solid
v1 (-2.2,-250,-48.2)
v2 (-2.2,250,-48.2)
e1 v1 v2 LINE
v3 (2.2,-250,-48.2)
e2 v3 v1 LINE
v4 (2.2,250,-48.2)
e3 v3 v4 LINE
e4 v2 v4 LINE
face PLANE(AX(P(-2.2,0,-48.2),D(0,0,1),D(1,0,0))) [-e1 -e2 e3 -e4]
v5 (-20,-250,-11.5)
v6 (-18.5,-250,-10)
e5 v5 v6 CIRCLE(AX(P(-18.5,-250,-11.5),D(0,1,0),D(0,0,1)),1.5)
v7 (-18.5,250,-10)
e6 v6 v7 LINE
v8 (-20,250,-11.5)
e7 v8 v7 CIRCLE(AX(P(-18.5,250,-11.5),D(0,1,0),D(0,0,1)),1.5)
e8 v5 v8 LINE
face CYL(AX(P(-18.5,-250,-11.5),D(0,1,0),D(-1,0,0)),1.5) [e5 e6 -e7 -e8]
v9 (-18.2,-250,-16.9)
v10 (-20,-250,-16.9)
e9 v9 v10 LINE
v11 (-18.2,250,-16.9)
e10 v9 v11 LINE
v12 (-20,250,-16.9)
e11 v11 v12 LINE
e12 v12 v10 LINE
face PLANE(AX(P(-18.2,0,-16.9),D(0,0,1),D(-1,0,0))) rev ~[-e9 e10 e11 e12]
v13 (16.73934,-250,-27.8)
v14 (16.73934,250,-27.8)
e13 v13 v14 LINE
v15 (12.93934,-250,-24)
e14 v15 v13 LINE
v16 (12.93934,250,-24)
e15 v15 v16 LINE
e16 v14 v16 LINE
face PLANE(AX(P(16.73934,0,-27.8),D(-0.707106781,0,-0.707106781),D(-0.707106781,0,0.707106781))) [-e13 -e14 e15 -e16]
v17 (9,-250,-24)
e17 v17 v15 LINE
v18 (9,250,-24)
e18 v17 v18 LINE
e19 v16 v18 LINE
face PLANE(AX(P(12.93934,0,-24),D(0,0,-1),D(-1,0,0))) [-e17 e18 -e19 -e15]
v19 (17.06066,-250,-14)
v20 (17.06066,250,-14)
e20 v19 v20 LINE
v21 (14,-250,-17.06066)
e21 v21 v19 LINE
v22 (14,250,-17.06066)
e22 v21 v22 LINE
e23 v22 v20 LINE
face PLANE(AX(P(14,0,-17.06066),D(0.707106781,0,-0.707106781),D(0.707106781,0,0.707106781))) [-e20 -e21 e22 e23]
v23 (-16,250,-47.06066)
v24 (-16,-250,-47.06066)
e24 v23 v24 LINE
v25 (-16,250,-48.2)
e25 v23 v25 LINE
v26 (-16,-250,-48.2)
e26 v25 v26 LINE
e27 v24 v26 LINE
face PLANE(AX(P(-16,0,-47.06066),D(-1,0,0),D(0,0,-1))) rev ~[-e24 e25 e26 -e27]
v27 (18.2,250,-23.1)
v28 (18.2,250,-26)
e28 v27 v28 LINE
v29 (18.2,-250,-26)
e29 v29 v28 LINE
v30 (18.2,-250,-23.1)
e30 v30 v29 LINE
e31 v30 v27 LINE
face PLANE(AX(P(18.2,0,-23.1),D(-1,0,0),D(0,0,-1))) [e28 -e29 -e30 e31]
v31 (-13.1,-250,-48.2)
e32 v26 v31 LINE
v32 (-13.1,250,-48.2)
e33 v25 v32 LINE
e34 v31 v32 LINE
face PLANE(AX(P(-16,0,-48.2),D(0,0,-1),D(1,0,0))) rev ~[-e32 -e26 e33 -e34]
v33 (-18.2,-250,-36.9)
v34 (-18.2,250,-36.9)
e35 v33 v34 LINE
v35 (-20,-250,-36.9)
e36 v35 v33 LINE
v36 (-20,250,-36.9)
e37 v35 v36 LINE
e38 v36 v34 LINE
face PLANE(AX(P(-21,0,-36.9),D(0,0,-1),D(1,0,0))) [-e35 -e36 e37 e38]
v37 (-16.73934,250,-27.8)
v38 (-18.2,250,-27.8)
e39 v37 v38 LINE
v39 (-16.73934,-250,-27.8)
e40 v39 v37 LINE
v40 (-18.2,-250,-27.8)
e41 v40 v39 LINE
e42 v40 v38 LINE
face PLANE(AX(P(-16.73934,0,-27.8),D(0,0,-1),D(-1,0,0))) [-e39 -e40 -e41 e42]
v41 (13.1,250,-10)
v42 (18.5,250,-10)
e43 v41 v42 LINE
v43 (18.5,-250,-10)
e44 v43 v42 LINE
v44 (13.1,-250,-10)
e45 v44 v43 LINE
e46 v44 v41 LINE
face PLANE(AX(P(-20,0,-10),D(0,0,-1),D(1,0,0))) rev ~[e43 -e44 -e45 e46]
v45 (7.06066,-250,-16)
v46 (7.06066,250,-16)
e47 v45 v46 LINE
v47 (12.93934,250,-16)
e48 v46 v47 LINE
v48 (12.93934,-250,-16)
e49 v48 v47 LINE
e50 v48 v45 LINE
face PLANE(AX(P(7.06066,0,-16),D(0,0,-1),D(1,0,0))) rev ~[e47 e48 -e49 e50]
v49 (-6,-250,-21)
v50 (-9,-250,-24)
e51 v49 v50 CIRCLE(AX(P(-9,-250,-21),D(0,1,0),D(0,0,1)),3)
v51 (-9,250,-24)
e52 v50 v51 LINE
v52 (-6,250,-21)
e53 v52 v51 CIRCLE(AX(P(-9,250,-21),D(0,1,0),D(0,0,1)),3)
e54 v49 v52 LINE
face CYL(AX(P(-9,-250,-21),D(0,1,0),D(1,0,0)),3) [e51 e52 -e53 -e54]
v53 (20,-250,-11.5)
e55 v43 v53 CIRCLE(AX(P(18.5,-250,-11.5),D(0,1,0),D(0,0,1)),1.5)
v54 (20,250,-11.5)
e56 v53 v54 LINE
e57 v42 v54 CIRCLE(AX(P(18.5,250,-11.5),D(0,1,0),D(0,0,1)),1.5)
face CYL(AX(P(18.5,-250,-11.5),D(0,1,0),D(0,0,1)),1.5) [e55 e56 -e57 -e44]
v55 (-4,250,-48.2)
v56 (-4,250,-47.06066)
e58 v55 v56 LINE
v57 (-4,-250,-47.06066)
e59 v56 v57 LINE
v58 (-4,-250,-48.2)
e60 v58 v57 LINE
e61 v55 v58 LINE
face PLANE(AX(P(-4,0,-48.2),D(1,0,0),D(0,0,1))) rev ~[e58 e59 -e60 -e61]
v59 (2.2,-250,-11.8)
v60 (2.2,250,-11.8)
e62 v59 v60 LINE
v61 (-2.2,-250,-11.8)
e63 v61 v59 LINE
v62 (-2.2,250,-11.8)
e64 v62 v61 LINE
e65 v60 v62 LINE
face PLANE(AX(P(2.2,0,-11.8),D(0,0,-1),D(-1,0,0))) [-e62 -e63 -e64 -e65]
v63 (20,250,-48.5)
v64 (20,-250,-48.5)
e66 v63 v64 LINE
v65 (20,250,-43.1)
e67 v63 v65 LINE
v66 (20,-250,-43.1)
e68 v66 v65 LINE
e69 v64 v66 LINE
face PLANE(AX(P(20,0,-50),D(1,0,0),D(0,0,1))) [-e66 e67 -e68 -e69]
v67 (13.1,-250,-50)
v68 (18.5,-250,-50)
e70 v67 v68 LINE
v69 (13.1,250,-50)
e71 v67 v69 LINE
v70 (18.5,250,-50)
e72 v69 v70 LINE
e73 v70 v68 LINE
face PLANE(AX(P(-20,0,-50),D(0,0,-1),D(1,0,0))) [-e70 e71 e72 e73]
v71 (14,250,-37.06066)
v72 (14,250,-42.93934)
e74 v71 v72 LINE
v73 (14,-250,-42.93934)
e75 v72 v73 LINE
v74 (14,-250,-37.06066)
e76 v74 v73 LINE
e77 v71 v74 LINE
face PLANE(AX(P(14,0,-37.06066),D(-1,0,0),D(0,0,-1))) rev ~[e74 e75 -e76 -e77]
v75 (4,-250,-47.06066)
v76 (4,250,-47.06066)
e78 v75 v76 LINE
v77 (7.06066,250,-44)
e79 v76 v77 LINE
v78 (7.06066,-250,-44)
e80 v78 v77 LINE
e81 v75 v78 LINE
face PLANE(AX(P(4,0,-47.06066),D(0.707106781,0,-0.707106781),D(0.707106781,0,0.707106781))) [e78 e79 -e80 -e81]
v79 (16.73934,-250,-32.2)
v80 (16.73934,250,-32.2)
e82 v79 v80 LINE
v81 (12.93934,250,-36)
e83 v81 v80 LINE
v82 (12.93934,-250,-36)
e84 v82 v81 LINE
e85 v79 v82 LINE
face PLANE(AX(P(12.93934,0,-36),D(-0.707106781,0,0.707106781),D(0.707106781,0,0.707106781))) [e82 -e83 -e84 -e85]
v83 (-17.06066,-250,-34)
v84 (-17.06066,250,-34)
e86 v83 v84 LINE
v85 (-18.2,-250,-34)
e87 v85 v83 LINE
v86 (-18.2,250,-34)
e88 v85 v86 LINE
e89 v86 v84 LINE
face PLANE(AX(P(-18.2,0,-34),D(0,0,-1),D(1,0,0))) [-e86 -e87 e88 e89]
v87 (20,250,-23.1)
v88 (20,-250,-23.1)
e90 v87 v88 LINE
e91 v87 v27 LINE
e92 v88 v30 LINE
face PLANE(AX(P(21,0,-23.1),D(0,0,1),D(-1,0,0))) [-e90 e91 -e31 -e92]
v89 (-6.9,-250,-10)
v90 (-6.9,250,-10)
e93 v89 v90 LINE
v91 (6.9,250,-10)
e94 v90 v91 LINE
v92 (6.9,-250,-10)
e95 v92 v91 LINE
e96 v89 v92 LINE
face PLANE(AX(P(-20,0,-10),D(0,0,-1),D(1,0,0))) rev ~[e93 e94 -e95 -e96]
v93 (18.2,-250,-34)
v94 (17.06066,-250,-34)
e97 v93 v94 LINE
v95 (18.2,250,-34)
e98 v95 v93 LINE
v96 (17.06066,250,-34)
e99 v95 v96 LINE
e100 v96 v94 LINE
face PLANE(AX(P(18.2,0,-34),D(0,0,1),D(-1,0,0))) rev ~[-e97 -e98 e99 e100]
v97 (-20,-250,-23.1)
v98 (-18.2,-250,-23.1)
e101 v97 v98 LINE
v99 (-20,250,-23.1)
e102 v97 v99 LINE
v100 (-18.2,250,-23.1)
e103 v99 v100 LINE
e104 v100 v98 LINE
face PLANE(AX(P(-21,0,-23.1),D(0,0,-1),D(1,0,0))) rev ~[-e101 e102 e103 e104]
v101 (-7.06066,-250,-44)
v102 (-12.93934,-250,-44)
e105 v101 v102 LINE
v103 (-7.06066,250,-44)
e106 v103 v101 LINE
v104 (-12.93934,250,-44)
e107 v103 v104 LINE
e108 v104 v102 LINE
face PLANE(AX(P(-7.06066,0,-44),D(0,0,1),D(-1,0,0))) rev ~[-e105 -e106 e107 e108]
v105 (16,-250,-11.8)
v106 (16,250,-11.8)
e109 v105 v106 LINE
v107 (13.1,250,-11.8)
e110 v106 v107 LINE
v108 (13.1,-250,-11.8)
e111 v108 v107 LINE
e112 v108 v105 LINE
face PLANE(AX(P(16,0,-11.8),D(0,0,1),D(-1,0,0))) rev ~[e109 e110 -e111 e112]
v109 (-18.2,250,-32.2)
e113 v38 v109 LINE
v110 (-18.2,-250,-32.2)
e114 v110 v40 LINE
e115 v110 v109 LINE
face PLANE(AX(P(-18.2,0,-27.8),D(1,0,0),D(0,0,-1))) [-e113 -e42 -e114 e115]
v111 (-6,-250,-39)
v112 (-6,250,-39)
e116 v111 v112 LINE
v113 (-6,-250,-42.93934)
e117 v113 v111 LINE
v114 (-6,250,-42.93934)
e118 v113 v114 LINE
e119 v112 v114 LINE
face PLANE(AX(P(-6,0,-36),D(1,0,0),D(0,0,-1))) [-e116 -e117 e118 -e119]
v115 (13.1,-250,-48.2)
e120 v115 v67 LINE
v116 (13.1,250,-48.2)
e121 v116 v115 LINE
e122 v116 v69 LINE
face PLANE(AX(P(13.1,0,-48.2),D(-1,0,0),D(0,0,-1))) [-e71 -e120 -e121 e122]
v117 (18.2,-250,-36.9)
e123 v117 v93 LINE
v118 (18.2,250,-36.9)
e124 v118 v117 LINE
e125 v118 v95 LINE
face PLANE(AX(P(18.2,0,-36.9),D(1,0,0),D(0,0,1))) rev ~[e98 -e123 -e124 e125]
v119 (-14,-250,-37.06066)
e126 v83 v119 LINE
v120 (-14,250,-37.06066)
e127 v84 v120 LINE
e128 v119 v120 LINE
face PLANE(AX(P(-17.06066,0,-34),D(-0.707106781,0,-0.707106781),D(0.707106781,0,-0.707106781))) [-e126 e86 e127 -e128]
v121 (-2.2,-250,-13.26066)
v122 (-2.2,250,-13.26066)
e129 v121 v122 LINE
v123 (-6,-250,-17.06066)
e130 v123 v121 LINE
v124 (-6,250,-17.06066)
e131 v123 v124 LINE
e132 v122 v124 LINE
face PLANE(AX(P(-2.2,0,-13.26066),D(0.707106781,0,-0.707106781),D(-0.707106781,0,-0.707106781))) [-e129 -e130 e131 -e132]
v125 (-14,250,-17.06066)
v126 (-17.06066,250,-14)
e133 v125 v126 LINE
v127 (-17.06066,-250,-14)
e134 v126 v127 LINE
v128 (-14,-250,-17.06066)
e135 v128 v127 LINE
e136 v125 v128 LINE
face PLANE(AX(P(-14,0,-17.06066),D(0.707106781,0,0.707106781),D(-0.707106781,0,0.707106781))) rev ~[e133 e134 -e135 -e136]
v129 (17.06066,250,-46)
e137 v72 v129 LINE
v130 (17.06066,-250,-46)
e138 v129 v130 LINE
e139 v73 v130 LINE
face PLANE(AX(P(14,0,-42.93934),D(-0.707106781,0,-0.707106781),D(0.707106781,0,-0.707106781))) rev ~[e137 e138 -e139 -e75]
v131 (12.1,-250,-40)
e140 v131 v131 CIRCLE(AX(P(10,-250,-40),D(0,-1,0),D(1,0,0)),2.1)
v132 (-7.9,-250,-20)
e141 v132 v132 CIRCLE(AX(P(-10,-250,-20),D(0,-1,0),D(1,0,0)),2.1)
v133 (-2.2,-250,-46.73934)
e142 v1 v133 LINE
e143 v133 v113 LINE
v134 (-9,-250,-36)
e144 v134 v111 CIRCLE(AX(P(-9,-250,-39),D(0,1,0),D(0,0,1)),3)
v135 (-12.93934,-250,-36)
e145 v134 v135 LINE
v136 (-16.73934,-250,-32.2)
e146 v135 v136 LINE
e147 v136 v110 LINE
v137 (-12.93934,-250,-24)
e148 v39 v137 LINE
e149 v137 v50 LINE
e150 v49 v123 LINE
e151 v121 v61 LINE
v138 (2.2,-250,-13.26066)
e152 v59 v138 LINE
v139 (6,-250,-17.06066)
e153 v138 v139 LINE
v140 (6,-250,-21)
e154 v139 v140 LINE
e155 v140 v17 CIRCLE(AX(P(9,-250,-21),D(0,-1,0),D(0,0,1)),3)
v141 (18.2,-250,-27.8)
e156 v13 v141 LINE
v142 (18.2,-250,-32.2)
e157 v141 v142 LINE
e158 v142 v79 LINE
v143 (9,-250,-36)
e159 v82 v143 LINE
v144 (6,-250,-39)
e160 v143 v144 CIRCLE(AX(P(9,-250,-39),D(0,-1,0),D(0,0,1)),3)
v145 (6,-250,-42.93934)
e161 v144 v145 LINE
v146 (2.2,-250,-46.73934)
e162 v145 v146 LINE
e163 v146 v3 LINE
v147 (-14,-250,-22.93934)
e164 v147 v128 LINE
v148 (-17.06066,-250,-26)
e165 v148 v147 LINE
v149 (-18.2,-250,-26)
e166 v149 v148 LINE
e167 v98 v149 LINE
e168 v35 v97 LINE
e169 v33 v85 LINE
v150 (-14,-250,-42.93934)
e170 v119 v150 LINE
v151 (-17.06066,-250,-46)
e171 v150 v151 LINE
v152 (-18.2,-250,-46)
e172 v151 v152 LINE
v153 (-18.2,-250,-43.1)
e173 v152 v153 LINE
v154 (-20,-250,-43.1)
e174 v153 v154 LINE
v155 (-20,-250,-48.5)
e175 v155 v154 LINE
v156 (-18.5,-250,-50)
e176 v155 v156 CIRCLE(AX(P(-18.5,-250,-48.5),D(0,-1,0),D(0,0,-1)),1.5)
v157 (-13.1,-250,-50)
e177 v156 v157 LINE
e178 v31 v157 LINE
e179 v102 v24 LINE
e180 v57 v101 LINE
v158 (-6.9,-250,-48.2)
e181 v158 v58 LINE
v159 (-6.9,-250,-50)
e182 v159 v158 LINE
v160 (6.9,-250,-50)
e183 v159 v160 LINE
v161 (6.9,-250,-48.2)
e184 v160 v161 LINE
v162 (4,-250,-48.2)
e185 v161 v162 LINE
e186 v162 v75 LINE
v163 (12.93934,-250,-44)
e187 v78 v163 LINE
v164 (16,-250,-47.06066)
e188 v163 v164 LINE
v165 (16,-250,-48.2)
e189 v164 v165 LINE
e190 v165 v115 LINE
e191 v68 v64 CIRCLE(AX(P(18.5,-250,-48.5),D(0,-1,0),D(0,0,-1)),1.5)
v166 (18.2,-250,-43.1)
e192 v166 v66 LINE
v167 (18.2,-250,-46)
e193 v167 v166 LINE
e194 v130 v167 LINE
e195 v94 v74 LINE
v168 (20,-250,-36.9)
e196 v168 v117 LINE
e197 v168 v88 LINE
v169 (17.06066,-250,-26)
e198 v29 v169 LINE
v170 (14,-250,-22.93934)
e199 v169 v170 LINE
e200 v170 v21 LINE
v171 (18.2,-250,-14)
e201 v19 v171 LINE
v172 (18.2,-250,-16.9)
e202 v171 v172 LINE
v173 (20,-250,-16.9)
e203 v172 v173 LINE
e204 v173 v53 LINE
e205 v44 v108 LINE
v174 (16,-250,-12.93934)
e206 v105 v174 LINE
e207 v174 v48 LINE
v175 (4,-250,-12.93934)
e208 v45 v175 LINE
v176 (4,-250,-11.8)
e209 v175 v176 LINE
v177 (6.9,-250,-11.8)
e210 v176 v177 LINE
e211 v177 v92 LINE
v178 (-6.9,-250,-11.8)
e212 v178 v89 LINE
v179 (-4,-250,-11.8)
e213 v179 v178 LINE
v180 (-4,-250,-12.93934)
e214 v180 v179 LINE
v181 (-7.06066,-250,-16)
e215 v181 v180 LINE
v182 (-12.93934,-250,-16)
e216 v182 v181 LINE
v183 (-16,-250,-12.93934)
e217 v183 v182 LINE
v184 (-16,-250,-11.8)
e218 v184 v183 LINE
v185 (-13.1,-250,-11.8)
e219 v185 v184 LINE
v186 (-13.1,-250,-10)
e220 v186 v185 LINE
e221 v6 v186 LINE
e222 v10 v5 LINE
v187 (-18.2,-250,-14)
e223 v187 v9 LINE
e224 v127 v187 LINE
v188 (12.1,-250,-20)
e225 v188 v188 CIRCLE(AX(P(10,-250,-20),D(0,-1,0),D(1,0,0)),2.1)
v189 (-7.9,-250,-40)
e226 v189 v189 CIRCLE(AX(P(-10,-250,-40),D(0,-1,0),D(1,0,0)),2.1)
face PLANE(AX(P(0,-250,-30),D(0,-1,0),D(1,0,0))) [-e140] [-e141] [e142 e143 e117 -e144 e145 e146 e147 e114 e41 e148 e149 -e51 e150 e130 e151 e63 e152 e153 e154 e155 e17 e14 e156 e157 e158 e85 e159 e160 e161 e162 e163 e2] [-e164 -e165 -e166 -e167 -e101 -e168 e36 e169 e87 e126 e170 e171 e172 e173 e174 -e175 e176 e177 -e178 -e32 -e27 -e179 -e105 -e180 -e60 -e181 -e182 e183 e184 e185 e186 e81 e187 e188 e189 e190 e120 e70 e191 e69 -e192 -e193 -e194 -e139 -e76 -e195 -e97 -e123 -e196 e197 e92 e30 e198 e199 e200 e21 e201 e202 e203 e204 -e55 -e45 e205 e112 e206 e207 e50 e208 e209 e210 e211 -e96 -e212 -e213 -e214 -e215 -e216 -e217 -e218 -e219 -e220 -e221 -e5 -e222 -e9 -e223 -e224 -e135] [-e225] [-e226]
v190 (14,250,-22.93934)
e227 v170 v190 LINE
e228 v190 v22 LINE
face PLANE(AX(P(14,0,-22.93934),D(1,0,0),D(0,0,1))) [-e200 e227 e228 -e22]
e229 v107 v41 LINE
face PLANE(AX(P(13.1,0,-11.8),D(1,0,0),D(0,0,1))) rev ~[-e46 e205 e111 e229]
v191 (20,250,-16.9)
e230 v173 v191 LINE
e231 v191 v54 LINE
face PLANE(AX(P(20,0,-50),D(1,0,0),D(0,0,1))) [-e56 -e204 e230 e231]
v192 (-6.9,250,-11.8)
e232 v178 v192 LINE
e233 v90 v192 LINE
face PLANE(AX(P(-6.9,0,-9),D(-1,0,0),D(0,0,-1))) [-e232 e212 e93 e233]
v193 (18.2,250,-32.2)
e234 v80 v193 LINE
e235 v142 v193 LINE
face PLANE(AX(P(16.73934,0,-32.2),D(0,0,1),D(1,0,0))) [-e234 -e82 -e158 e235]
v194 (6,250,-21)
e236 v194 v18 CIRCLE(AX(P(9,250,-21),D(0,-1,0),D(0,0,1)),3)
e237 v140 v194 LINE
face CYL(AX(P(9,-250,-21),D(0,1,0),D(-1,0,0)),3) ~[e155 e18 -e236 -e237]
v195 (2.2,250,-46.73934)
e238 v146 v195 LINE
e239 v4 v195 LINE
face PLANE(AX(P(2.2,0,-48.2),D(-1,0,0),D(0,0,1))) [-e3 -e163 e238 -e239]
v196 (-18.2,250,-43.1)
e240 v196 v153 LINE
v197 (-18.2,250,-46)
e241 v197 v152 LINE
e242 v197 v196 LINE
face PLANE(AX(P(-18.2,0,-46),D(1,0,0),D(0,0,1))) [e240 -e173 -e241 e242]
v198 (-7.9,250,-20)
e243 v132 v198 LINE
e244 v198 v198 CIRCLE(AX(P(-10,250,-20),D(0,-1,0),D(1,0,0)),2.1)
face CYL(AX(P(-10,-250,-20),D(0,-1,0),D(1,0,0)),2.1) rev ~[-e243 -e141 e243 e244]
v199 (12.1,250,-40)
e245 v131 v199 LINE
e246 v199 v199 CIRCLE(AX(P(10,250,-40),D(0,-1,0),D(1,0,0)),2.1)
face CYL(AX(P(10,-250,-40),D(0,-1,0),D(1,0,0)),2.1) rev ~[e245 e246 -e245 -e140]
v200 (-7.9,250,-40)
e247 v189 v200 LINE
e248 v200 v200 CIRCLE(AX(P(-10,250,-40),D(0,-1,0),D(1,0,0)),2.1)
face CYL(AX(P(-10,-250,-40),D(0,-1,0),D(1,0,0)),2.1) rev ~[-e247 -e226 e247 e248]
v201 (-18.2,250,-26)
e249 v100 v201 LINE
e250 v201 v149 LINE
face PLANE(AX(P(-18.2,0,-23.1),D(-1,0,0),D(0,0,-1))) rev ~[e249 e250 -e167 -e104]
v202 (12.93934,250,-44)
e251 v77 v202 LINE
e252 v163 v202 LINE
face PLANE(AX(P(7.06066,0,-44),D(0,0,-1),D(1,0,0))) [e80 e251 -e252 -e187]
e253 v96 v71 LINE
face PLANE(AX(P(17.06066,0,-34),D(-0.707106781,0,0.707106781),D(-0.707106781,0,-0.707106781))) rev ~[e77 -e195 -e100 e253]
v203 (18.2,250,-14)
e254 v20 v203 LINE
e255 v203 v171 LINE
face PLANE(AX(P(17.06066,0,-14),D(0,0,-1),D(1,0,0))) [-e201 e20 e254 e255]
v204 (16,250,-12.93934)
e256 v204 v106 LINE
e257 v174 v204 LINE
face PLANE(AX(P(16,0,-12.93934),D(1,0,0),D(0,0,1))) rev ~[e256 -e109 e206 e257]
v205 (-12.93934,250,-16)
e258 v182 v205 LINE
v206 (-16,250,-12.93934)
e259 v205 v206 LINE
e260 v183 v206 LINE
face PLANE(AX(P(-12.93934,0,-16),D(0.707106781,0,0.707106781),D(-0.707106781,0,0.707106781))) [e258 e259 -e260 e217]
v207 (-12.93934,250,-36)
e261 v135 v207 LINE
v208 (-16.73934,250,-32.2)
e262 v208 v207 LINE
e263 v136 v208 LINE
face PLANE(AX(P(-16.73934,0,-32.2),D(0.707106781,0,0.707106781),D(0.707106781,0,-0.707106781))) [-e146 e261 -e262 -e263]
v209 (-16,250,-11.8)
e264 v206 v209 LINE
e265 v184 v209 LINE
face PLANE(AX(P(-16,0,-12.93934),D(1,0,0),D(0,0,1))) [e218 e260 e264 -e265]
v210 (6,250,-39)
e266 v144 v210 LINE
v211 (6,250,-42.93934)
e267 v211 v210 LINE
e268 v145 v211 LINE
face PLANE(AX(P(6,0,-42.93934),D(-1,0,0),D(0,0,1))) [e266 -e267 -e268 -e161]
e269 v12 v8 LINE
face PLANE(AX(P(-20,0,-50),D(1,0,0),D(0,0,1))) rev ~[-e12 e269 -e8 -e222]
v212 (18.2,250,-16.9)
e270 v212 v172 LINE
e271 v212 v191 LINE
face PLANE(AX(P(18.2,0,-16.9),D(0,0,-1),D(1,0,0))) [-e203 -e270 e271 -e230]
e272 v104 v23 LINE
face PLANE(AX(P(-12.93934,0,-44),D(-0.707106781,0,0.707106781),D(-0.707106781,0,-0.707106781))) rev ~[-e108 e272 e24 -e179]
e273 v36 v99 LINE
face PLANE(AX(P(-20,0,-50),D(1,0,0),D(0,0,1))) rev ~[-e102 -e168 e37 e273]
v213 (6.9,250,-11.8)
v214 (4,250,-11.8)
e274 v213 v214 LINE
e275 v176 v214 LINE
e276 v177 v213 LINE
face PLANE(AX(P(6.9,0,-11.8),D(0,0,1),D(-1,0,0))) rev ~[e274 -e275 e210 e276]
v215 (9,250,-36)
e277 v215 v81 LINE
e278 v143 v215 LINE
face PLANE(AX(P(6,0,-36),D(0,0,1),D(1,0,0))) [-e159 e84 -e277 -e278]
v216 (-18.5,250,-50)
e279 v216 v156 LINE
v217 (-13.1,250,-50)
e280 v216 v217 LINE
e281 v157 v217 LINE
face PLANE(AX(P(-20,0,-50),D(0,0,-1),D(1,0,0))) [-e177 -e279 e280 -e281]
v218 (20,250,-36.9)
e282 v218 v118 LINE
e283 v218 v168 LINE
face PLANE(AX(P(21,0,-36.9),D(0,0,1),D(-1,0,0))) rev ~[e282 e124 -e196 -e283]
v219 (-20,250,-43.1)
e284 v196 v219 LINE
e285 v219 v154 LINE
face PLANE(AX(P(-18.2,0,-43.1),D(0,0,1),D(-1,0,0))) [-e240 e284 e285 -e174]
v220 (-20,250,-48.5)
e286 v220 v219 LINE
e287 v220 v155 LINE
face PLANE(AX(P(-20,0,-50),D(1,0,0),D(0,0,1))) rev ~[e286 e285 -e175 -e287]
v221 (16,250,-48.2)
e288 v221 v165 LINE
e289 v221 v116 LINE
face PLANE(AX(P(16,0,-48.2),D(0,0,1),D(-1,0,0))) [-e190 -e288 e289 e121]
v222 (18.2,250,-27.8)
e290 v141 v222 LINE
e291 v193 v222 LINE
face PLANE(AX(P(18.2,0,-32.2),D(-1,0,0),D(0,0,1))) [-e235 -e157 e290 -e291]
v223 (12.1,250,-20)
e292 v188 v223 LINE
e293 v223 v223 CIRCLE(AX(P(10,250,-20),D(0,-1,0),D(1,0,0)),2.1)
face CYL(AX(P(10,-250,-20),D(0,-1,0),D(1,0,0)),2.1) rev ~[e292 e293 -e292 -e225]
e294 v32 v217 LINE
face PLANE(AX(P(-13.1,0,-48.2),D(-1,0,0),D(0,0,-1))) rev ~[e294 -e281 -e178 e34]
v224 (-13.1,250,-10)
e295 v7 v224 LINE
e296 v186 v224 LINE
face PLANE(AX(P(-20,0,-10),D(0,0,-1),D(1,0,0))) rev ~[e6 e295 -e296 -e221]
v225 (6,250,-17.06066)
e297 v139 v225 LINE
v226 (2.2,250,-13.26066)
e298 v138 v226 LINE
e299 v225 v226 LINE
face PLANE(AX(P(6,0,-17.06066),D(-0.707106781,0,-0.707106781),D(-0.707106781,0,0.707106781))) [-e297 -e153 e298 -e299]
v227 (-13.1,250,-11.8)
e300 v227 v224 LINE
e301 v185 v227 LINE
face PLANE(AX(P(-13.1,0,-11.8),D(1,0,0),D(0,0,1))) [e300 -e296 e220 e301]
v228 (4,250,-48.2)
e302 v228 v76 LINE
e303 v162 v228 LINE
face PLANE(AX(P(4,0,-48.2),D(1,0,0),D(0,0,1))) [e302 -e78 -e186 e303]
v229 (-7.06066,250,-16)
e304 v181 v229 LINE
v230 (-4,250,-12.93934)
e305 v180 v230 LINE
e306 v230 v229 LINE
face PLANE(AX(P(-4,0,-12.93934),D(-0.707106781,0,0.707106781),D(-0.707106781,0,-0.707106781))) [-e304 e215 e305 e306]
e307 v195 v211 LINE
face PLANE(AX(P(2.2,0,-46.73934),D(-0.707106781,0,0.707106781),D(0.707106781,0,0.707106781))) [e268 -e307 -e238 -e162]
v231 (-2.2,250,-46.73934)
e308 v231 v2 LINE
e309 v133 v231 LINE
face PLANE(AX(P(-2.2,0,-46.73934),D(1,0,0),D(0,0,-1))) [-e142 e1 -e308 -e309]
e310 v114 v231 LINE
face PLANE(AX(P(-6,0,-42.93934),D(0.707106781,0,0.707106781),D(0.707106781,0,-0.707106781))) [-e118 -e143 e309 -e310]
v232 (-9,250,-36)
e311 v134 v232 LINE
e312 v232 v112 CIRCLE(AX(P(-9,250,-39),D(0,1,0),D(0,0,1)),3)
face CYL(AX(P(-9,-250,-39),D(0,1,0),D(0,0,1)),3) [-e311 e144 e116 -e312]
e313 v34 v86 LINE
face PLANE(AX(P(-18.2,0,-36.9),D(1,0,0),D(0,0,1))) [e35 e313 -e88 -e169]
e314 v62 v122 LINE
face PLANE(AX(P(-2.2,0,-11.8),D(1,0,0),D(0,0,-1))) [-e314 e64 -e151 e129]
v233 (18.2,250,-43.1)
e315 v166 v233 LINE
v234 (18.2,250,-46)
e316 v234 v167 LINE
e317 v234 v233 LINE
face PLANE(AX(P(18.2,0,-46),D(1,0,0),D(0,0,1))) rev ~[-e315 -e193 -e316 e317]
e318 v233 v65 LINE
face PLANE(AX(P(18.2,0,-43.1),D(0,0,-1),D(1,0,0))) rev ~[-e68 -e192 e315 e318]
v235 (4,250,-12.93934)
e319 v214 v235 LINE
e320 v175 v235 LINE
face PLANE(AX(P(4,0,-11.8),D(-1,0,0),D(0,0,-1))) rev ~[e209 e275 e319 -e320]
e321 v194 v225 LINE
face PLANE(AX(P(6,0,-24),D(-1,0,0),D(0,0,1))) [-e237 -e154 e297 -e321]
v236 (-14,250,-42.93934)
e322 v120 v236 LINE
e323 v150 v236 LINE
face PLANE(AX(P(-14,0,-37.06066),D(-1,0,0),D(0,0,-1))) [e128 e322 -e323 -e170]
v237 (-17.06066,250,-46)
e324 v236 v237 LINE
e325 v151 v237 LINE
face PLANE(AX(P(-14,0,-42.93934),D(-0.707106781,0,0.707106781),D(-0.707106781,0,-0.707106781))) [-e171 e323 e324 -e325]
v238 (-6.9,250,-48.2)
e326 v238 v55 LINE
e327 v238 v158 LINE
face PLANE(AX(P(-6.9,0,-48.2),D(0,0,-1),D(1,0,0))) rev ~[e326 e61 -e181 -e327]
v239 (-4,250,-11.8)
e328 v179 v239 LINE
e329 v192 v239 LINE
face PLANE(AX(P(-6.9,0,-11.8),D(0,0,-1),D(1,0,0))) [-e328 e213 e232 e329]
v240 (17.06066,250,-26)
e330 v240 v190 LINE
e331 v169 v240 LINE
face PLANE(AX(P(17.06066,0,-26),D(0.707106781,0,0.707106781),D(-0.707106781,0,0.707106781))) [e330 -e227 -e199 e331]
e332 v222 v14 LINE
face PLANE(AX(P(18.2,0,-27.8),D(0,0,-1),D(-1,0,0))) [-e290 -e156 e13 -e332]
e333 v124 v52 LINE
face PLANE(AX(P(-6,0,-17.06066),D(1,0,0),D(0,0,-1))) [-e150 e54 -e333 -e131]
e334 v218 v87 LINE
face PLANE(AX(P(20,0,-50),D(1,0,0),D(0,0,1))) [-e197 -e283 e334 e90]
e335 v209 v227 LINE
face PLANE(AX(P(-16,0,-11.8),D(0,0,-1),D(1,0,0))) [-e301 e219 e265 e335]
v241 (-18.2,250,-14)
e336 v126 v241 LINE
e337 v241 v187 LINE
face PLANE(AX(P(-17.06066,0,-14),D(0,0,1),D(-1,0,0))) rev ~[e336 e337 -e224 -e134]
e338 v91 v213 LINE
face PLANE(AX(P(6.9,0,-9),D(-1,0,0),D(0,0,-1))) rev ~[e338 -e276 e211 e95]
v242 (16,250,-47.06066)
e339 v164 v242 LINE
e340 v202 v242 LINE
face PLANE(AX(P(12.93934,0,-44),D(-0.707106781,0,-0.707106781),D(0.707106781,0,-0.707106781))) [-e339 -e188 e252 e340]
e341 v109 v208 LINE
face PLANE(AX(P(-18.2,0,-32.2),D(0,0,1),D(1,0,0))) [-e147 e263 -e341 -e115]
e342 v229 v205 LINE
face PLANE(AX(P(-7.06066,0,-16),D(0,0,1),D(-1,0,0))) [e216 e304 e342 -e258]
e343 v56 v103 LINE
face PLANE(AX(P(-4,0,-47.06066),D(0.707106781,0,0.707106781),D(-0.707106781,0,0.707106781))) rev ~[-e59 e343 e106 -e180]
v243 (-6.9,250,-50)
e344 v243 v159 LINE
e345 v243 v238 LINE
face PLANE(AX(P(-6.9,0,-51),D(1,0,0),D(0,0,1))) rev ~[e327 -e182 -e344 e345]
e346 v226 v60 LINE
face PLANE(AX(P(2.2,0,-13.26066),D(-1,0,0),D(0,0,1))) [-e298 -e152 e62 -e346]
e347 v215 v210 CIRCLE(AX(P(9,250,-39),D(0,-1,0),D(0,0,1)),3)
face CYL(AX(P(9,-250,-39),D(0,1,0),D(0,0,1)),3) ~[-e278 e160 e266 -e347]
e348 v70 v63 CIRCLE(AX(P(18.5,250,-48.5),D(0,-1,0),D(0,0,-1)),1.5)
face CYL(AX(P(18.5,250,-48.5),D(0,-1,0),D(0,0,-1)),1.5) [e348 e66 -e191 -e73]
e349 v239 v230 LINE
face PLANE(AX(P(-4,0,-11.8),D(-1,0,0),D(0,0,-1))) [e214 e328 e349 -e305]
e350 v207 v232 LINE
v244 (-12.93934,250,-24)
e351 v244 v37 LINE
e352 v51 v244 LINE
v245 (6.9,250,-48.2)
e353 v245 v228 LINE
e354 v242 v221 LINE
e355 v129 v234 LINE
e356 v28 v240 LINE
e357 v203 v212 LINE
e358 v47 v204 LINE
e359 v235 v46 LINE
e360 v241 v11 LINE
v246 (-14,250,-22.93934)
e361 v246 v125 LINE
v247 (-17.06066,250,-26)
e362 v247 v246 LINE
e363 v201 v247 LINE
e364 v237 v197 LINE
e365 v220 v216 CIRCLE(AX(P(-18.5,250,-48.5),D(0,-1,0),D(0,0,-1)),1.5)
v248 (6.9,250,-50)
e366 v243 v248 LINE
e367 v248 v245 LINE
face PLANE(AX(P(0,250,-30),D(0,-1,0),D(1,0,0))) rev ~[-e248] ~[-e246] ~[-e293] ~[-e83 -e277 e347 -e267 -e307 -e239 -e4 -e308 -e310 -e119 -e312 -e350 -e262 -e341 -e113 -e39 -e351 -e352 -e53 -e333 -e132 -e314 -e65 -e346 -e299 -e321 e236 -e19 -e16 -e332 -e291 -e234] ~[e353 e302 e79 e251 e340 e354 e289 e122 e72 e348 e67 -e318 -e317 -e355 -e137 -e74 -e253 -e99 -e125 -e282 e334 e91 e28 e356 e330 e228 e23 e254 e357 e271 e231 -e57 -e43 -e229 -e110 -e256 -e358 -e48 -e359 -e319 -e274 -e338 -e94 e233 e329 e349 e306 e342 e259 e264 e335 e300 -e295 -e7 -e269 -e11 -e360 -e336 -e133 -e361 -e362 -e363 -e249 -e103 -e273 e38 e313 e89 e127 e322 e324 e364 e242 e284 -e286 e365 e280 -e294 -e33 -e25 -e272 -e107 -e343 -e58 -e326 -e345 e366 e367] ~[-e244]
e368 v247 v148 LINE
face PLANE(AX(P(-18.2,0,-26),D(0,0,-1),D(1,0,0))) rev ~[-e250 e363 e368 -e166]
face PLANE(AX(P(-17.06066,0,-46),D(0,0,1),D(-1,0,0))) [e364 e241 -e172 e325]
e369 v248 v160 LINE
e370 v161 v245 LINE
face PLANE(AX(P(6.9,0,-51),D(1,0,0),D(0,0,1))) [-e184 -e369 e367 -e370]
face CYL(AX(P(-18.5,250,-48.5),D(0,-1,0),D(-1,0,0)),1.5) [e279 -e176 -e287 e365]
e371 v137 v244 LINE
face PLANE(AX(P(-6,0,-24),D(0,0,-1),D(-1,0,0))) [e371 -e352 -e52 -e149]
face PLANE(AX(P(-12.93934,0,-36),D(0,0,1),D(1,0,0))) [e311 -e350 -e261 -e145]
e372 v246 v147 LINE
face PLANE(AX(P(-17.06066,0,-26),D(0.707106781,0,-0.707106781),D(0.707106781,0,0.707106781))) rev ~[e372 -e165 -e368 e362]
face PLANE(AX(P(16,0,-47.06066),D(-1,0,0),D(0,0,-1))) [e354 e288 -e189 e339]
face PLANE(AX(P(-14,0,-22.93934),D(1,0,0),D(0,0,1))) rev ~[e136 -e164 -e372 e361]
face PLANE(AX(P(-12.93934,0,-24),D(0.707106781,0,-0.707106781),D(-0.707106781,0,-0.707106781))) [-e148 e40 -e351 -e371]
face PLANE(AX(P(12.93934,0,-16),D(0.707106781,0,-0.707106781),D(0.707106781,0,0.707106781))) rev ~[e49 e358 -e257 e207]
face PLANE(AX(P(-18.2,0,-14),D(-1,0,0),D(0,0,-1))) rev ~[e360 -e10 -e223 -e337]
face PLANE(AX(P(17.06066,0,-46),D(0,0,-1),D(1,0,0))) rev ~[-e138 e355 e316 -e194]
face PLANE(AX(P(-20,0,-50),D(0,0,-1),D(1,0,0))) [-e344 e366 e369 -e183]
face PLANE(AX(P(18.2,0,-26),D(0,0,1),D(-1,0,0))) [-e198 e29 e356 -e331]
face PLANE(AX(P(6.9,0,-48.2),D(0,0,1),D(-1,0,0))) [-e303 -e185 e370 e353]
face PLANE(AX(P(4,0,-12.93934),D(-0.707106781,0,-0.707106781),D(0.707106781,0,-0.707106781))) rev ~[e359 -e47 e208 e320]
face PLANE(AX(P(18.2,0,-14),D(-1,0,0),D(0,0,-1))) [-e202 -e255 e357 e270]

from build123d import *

# Parameters (mm, degrees)
SKETCH013_W           = 40
SKETCH013_H           = 40
PAD007_DEPTH          = 250
POCKET006_DEPTH       = 1256.38065
POCKET006_DEPTH_BACK  = 1256.38065
POLARPATTERN001_COUNT = 4
POCKET007_DEPTH       = 250.001
POCKET007_DEPTH_BACK  = 250.001
SKETCH012_R           = 2.1
POCKET005_DEPTH       = 500.001
FILLET002_R           = 1.5
FILLET003_R           = 3


with BuildPart() as part:
    # Sketch013 → Pad007 (new body, symmetric)
    with BuildSketch(Plane.XZ):
        Rectangle(SKETCH013_W, SKETCH013_H)
    extrude(amount=PAD007_DEPTH, both=True)

    # Sketch014 → Pocket006 (cut, two sides)
    with BuildSketch(Plane(origin=(-10, 0, 0), x_dir=(1, 0, 0), z_dir=(0, -1, 0))) as pocket006_sk:
        Polygon((-3.1, 21), (3.1, 21), (3.1, 18.2), (6, 18.2), (6, 17.06066), (2.93934, 14), (-2.93934, 14), (-6, 17.06066), (-6, 18.2), (-3.1, 18.2), align=None)
        Polygon((16.9, 21), (16.9, 18.2), (14, 18.2), (14, 17.06066), (17.06066, 14), (22.93934, 14), (26, 17.06066), (26, 18.2), (23.1, 18.2), (23.1, 21), align=None)
    pocket006 = extrude(amount=-POCKET006_DEPTH, mode=Mode.SUBTRACT) + extrude(pocket006_sk.sketch, amount=POCKET006_DEPTH_BACK, mode=Mode.SUBTRACT)

    # PolarPattern001: Pocket006 ×4 about axis
    polarpattern001_axis = Axis((0, 0, 0), (0, 1, 0))
    for i in range(1, POLARPATTERN001_COUNT):
        add(pocket006.rotate(polarpattern001_axis, i * 360 / POLARPATTERN001_COUNT), mode=Mode.SUBTRACT)

    # Sketch015 → Pocket007 (cut, two sides)
    with BuildSketch(Plane.XZ) as pocket007_sk:
        Polygon((2.2, 18.2), (-2.2, 18.2), (-2.2, 16.73934), (-6, 12.93934), (-6, 6), (-12.93934, 6), (-16.73934, 2.2), (-18.2, 2.2), (-18.2, -2.2), (-16.73934, -2.2), (-12.93934, -6), (-6, -6), (-6, -12.93934), (-2.2, -16.73934), (-2.2, -18.2), (2.2, -18.2), (2.2, -16.73934), (6, -12.93934), (6, -6), (12.93934, -6), (16.73934, -2.2), (18.2, -2.2), (18.2, 2.2), (16.73934, 2.2), (12.93934, 6), (6, 6), (6, 12.93934), (2.2, 16.73934), align=None)
    extrude(amount=-POCKET007_DEPTH, mode=Mode.SUBTRACT)
    extrude(pocket007_sk.sketch, amount=POCKET007_DEPTH_BACK, mode=Mode.SUBTRACT)

    # Sketch012 → Pocket005 (cut, through all)
    with BuildSketch(Plane.XZ.offset(250)):
        with Locations((-10, 10)):
            Circle(SKETCH012_R)
        with Locations((10, 10)):
            Circle(SKETCH012_R)
        with Locations((10, -10)):
            Circle(SKETCH012_R)
        with Locations((-10, -10)):
            Circle(SKETCH012_R)
    extrude(amount=-POCKET005_DEPTH, mode=Mode.SUBTRACT)

    # Fillet002
    fillet002_edges = [part.edges().sort_by_distance(p)[0] for p in [
        (-20, 0, 20),
        (20, 0, -20),
        (-20, 0, -20),
        (20, 0, 20),
    ]]
    fillet(fillet002_edges, radius=FILLET002_R)

    # Fillet003
    fillet003_edges = [part.edges().sort_by_distance(p)[0] for p in [
        (-6, 0, 6),
        (-6, 0, -6),
        (6, 0, -6),
        (6, 0, 6),
    ]]
    fillet(fillet003_edges, radius=FILLET003_R)


with BuildPart() as part_1:
    # Body008 placement: moved
    add(part.part.moved(Location((0, 0, -30))))


solid = part_1.part
